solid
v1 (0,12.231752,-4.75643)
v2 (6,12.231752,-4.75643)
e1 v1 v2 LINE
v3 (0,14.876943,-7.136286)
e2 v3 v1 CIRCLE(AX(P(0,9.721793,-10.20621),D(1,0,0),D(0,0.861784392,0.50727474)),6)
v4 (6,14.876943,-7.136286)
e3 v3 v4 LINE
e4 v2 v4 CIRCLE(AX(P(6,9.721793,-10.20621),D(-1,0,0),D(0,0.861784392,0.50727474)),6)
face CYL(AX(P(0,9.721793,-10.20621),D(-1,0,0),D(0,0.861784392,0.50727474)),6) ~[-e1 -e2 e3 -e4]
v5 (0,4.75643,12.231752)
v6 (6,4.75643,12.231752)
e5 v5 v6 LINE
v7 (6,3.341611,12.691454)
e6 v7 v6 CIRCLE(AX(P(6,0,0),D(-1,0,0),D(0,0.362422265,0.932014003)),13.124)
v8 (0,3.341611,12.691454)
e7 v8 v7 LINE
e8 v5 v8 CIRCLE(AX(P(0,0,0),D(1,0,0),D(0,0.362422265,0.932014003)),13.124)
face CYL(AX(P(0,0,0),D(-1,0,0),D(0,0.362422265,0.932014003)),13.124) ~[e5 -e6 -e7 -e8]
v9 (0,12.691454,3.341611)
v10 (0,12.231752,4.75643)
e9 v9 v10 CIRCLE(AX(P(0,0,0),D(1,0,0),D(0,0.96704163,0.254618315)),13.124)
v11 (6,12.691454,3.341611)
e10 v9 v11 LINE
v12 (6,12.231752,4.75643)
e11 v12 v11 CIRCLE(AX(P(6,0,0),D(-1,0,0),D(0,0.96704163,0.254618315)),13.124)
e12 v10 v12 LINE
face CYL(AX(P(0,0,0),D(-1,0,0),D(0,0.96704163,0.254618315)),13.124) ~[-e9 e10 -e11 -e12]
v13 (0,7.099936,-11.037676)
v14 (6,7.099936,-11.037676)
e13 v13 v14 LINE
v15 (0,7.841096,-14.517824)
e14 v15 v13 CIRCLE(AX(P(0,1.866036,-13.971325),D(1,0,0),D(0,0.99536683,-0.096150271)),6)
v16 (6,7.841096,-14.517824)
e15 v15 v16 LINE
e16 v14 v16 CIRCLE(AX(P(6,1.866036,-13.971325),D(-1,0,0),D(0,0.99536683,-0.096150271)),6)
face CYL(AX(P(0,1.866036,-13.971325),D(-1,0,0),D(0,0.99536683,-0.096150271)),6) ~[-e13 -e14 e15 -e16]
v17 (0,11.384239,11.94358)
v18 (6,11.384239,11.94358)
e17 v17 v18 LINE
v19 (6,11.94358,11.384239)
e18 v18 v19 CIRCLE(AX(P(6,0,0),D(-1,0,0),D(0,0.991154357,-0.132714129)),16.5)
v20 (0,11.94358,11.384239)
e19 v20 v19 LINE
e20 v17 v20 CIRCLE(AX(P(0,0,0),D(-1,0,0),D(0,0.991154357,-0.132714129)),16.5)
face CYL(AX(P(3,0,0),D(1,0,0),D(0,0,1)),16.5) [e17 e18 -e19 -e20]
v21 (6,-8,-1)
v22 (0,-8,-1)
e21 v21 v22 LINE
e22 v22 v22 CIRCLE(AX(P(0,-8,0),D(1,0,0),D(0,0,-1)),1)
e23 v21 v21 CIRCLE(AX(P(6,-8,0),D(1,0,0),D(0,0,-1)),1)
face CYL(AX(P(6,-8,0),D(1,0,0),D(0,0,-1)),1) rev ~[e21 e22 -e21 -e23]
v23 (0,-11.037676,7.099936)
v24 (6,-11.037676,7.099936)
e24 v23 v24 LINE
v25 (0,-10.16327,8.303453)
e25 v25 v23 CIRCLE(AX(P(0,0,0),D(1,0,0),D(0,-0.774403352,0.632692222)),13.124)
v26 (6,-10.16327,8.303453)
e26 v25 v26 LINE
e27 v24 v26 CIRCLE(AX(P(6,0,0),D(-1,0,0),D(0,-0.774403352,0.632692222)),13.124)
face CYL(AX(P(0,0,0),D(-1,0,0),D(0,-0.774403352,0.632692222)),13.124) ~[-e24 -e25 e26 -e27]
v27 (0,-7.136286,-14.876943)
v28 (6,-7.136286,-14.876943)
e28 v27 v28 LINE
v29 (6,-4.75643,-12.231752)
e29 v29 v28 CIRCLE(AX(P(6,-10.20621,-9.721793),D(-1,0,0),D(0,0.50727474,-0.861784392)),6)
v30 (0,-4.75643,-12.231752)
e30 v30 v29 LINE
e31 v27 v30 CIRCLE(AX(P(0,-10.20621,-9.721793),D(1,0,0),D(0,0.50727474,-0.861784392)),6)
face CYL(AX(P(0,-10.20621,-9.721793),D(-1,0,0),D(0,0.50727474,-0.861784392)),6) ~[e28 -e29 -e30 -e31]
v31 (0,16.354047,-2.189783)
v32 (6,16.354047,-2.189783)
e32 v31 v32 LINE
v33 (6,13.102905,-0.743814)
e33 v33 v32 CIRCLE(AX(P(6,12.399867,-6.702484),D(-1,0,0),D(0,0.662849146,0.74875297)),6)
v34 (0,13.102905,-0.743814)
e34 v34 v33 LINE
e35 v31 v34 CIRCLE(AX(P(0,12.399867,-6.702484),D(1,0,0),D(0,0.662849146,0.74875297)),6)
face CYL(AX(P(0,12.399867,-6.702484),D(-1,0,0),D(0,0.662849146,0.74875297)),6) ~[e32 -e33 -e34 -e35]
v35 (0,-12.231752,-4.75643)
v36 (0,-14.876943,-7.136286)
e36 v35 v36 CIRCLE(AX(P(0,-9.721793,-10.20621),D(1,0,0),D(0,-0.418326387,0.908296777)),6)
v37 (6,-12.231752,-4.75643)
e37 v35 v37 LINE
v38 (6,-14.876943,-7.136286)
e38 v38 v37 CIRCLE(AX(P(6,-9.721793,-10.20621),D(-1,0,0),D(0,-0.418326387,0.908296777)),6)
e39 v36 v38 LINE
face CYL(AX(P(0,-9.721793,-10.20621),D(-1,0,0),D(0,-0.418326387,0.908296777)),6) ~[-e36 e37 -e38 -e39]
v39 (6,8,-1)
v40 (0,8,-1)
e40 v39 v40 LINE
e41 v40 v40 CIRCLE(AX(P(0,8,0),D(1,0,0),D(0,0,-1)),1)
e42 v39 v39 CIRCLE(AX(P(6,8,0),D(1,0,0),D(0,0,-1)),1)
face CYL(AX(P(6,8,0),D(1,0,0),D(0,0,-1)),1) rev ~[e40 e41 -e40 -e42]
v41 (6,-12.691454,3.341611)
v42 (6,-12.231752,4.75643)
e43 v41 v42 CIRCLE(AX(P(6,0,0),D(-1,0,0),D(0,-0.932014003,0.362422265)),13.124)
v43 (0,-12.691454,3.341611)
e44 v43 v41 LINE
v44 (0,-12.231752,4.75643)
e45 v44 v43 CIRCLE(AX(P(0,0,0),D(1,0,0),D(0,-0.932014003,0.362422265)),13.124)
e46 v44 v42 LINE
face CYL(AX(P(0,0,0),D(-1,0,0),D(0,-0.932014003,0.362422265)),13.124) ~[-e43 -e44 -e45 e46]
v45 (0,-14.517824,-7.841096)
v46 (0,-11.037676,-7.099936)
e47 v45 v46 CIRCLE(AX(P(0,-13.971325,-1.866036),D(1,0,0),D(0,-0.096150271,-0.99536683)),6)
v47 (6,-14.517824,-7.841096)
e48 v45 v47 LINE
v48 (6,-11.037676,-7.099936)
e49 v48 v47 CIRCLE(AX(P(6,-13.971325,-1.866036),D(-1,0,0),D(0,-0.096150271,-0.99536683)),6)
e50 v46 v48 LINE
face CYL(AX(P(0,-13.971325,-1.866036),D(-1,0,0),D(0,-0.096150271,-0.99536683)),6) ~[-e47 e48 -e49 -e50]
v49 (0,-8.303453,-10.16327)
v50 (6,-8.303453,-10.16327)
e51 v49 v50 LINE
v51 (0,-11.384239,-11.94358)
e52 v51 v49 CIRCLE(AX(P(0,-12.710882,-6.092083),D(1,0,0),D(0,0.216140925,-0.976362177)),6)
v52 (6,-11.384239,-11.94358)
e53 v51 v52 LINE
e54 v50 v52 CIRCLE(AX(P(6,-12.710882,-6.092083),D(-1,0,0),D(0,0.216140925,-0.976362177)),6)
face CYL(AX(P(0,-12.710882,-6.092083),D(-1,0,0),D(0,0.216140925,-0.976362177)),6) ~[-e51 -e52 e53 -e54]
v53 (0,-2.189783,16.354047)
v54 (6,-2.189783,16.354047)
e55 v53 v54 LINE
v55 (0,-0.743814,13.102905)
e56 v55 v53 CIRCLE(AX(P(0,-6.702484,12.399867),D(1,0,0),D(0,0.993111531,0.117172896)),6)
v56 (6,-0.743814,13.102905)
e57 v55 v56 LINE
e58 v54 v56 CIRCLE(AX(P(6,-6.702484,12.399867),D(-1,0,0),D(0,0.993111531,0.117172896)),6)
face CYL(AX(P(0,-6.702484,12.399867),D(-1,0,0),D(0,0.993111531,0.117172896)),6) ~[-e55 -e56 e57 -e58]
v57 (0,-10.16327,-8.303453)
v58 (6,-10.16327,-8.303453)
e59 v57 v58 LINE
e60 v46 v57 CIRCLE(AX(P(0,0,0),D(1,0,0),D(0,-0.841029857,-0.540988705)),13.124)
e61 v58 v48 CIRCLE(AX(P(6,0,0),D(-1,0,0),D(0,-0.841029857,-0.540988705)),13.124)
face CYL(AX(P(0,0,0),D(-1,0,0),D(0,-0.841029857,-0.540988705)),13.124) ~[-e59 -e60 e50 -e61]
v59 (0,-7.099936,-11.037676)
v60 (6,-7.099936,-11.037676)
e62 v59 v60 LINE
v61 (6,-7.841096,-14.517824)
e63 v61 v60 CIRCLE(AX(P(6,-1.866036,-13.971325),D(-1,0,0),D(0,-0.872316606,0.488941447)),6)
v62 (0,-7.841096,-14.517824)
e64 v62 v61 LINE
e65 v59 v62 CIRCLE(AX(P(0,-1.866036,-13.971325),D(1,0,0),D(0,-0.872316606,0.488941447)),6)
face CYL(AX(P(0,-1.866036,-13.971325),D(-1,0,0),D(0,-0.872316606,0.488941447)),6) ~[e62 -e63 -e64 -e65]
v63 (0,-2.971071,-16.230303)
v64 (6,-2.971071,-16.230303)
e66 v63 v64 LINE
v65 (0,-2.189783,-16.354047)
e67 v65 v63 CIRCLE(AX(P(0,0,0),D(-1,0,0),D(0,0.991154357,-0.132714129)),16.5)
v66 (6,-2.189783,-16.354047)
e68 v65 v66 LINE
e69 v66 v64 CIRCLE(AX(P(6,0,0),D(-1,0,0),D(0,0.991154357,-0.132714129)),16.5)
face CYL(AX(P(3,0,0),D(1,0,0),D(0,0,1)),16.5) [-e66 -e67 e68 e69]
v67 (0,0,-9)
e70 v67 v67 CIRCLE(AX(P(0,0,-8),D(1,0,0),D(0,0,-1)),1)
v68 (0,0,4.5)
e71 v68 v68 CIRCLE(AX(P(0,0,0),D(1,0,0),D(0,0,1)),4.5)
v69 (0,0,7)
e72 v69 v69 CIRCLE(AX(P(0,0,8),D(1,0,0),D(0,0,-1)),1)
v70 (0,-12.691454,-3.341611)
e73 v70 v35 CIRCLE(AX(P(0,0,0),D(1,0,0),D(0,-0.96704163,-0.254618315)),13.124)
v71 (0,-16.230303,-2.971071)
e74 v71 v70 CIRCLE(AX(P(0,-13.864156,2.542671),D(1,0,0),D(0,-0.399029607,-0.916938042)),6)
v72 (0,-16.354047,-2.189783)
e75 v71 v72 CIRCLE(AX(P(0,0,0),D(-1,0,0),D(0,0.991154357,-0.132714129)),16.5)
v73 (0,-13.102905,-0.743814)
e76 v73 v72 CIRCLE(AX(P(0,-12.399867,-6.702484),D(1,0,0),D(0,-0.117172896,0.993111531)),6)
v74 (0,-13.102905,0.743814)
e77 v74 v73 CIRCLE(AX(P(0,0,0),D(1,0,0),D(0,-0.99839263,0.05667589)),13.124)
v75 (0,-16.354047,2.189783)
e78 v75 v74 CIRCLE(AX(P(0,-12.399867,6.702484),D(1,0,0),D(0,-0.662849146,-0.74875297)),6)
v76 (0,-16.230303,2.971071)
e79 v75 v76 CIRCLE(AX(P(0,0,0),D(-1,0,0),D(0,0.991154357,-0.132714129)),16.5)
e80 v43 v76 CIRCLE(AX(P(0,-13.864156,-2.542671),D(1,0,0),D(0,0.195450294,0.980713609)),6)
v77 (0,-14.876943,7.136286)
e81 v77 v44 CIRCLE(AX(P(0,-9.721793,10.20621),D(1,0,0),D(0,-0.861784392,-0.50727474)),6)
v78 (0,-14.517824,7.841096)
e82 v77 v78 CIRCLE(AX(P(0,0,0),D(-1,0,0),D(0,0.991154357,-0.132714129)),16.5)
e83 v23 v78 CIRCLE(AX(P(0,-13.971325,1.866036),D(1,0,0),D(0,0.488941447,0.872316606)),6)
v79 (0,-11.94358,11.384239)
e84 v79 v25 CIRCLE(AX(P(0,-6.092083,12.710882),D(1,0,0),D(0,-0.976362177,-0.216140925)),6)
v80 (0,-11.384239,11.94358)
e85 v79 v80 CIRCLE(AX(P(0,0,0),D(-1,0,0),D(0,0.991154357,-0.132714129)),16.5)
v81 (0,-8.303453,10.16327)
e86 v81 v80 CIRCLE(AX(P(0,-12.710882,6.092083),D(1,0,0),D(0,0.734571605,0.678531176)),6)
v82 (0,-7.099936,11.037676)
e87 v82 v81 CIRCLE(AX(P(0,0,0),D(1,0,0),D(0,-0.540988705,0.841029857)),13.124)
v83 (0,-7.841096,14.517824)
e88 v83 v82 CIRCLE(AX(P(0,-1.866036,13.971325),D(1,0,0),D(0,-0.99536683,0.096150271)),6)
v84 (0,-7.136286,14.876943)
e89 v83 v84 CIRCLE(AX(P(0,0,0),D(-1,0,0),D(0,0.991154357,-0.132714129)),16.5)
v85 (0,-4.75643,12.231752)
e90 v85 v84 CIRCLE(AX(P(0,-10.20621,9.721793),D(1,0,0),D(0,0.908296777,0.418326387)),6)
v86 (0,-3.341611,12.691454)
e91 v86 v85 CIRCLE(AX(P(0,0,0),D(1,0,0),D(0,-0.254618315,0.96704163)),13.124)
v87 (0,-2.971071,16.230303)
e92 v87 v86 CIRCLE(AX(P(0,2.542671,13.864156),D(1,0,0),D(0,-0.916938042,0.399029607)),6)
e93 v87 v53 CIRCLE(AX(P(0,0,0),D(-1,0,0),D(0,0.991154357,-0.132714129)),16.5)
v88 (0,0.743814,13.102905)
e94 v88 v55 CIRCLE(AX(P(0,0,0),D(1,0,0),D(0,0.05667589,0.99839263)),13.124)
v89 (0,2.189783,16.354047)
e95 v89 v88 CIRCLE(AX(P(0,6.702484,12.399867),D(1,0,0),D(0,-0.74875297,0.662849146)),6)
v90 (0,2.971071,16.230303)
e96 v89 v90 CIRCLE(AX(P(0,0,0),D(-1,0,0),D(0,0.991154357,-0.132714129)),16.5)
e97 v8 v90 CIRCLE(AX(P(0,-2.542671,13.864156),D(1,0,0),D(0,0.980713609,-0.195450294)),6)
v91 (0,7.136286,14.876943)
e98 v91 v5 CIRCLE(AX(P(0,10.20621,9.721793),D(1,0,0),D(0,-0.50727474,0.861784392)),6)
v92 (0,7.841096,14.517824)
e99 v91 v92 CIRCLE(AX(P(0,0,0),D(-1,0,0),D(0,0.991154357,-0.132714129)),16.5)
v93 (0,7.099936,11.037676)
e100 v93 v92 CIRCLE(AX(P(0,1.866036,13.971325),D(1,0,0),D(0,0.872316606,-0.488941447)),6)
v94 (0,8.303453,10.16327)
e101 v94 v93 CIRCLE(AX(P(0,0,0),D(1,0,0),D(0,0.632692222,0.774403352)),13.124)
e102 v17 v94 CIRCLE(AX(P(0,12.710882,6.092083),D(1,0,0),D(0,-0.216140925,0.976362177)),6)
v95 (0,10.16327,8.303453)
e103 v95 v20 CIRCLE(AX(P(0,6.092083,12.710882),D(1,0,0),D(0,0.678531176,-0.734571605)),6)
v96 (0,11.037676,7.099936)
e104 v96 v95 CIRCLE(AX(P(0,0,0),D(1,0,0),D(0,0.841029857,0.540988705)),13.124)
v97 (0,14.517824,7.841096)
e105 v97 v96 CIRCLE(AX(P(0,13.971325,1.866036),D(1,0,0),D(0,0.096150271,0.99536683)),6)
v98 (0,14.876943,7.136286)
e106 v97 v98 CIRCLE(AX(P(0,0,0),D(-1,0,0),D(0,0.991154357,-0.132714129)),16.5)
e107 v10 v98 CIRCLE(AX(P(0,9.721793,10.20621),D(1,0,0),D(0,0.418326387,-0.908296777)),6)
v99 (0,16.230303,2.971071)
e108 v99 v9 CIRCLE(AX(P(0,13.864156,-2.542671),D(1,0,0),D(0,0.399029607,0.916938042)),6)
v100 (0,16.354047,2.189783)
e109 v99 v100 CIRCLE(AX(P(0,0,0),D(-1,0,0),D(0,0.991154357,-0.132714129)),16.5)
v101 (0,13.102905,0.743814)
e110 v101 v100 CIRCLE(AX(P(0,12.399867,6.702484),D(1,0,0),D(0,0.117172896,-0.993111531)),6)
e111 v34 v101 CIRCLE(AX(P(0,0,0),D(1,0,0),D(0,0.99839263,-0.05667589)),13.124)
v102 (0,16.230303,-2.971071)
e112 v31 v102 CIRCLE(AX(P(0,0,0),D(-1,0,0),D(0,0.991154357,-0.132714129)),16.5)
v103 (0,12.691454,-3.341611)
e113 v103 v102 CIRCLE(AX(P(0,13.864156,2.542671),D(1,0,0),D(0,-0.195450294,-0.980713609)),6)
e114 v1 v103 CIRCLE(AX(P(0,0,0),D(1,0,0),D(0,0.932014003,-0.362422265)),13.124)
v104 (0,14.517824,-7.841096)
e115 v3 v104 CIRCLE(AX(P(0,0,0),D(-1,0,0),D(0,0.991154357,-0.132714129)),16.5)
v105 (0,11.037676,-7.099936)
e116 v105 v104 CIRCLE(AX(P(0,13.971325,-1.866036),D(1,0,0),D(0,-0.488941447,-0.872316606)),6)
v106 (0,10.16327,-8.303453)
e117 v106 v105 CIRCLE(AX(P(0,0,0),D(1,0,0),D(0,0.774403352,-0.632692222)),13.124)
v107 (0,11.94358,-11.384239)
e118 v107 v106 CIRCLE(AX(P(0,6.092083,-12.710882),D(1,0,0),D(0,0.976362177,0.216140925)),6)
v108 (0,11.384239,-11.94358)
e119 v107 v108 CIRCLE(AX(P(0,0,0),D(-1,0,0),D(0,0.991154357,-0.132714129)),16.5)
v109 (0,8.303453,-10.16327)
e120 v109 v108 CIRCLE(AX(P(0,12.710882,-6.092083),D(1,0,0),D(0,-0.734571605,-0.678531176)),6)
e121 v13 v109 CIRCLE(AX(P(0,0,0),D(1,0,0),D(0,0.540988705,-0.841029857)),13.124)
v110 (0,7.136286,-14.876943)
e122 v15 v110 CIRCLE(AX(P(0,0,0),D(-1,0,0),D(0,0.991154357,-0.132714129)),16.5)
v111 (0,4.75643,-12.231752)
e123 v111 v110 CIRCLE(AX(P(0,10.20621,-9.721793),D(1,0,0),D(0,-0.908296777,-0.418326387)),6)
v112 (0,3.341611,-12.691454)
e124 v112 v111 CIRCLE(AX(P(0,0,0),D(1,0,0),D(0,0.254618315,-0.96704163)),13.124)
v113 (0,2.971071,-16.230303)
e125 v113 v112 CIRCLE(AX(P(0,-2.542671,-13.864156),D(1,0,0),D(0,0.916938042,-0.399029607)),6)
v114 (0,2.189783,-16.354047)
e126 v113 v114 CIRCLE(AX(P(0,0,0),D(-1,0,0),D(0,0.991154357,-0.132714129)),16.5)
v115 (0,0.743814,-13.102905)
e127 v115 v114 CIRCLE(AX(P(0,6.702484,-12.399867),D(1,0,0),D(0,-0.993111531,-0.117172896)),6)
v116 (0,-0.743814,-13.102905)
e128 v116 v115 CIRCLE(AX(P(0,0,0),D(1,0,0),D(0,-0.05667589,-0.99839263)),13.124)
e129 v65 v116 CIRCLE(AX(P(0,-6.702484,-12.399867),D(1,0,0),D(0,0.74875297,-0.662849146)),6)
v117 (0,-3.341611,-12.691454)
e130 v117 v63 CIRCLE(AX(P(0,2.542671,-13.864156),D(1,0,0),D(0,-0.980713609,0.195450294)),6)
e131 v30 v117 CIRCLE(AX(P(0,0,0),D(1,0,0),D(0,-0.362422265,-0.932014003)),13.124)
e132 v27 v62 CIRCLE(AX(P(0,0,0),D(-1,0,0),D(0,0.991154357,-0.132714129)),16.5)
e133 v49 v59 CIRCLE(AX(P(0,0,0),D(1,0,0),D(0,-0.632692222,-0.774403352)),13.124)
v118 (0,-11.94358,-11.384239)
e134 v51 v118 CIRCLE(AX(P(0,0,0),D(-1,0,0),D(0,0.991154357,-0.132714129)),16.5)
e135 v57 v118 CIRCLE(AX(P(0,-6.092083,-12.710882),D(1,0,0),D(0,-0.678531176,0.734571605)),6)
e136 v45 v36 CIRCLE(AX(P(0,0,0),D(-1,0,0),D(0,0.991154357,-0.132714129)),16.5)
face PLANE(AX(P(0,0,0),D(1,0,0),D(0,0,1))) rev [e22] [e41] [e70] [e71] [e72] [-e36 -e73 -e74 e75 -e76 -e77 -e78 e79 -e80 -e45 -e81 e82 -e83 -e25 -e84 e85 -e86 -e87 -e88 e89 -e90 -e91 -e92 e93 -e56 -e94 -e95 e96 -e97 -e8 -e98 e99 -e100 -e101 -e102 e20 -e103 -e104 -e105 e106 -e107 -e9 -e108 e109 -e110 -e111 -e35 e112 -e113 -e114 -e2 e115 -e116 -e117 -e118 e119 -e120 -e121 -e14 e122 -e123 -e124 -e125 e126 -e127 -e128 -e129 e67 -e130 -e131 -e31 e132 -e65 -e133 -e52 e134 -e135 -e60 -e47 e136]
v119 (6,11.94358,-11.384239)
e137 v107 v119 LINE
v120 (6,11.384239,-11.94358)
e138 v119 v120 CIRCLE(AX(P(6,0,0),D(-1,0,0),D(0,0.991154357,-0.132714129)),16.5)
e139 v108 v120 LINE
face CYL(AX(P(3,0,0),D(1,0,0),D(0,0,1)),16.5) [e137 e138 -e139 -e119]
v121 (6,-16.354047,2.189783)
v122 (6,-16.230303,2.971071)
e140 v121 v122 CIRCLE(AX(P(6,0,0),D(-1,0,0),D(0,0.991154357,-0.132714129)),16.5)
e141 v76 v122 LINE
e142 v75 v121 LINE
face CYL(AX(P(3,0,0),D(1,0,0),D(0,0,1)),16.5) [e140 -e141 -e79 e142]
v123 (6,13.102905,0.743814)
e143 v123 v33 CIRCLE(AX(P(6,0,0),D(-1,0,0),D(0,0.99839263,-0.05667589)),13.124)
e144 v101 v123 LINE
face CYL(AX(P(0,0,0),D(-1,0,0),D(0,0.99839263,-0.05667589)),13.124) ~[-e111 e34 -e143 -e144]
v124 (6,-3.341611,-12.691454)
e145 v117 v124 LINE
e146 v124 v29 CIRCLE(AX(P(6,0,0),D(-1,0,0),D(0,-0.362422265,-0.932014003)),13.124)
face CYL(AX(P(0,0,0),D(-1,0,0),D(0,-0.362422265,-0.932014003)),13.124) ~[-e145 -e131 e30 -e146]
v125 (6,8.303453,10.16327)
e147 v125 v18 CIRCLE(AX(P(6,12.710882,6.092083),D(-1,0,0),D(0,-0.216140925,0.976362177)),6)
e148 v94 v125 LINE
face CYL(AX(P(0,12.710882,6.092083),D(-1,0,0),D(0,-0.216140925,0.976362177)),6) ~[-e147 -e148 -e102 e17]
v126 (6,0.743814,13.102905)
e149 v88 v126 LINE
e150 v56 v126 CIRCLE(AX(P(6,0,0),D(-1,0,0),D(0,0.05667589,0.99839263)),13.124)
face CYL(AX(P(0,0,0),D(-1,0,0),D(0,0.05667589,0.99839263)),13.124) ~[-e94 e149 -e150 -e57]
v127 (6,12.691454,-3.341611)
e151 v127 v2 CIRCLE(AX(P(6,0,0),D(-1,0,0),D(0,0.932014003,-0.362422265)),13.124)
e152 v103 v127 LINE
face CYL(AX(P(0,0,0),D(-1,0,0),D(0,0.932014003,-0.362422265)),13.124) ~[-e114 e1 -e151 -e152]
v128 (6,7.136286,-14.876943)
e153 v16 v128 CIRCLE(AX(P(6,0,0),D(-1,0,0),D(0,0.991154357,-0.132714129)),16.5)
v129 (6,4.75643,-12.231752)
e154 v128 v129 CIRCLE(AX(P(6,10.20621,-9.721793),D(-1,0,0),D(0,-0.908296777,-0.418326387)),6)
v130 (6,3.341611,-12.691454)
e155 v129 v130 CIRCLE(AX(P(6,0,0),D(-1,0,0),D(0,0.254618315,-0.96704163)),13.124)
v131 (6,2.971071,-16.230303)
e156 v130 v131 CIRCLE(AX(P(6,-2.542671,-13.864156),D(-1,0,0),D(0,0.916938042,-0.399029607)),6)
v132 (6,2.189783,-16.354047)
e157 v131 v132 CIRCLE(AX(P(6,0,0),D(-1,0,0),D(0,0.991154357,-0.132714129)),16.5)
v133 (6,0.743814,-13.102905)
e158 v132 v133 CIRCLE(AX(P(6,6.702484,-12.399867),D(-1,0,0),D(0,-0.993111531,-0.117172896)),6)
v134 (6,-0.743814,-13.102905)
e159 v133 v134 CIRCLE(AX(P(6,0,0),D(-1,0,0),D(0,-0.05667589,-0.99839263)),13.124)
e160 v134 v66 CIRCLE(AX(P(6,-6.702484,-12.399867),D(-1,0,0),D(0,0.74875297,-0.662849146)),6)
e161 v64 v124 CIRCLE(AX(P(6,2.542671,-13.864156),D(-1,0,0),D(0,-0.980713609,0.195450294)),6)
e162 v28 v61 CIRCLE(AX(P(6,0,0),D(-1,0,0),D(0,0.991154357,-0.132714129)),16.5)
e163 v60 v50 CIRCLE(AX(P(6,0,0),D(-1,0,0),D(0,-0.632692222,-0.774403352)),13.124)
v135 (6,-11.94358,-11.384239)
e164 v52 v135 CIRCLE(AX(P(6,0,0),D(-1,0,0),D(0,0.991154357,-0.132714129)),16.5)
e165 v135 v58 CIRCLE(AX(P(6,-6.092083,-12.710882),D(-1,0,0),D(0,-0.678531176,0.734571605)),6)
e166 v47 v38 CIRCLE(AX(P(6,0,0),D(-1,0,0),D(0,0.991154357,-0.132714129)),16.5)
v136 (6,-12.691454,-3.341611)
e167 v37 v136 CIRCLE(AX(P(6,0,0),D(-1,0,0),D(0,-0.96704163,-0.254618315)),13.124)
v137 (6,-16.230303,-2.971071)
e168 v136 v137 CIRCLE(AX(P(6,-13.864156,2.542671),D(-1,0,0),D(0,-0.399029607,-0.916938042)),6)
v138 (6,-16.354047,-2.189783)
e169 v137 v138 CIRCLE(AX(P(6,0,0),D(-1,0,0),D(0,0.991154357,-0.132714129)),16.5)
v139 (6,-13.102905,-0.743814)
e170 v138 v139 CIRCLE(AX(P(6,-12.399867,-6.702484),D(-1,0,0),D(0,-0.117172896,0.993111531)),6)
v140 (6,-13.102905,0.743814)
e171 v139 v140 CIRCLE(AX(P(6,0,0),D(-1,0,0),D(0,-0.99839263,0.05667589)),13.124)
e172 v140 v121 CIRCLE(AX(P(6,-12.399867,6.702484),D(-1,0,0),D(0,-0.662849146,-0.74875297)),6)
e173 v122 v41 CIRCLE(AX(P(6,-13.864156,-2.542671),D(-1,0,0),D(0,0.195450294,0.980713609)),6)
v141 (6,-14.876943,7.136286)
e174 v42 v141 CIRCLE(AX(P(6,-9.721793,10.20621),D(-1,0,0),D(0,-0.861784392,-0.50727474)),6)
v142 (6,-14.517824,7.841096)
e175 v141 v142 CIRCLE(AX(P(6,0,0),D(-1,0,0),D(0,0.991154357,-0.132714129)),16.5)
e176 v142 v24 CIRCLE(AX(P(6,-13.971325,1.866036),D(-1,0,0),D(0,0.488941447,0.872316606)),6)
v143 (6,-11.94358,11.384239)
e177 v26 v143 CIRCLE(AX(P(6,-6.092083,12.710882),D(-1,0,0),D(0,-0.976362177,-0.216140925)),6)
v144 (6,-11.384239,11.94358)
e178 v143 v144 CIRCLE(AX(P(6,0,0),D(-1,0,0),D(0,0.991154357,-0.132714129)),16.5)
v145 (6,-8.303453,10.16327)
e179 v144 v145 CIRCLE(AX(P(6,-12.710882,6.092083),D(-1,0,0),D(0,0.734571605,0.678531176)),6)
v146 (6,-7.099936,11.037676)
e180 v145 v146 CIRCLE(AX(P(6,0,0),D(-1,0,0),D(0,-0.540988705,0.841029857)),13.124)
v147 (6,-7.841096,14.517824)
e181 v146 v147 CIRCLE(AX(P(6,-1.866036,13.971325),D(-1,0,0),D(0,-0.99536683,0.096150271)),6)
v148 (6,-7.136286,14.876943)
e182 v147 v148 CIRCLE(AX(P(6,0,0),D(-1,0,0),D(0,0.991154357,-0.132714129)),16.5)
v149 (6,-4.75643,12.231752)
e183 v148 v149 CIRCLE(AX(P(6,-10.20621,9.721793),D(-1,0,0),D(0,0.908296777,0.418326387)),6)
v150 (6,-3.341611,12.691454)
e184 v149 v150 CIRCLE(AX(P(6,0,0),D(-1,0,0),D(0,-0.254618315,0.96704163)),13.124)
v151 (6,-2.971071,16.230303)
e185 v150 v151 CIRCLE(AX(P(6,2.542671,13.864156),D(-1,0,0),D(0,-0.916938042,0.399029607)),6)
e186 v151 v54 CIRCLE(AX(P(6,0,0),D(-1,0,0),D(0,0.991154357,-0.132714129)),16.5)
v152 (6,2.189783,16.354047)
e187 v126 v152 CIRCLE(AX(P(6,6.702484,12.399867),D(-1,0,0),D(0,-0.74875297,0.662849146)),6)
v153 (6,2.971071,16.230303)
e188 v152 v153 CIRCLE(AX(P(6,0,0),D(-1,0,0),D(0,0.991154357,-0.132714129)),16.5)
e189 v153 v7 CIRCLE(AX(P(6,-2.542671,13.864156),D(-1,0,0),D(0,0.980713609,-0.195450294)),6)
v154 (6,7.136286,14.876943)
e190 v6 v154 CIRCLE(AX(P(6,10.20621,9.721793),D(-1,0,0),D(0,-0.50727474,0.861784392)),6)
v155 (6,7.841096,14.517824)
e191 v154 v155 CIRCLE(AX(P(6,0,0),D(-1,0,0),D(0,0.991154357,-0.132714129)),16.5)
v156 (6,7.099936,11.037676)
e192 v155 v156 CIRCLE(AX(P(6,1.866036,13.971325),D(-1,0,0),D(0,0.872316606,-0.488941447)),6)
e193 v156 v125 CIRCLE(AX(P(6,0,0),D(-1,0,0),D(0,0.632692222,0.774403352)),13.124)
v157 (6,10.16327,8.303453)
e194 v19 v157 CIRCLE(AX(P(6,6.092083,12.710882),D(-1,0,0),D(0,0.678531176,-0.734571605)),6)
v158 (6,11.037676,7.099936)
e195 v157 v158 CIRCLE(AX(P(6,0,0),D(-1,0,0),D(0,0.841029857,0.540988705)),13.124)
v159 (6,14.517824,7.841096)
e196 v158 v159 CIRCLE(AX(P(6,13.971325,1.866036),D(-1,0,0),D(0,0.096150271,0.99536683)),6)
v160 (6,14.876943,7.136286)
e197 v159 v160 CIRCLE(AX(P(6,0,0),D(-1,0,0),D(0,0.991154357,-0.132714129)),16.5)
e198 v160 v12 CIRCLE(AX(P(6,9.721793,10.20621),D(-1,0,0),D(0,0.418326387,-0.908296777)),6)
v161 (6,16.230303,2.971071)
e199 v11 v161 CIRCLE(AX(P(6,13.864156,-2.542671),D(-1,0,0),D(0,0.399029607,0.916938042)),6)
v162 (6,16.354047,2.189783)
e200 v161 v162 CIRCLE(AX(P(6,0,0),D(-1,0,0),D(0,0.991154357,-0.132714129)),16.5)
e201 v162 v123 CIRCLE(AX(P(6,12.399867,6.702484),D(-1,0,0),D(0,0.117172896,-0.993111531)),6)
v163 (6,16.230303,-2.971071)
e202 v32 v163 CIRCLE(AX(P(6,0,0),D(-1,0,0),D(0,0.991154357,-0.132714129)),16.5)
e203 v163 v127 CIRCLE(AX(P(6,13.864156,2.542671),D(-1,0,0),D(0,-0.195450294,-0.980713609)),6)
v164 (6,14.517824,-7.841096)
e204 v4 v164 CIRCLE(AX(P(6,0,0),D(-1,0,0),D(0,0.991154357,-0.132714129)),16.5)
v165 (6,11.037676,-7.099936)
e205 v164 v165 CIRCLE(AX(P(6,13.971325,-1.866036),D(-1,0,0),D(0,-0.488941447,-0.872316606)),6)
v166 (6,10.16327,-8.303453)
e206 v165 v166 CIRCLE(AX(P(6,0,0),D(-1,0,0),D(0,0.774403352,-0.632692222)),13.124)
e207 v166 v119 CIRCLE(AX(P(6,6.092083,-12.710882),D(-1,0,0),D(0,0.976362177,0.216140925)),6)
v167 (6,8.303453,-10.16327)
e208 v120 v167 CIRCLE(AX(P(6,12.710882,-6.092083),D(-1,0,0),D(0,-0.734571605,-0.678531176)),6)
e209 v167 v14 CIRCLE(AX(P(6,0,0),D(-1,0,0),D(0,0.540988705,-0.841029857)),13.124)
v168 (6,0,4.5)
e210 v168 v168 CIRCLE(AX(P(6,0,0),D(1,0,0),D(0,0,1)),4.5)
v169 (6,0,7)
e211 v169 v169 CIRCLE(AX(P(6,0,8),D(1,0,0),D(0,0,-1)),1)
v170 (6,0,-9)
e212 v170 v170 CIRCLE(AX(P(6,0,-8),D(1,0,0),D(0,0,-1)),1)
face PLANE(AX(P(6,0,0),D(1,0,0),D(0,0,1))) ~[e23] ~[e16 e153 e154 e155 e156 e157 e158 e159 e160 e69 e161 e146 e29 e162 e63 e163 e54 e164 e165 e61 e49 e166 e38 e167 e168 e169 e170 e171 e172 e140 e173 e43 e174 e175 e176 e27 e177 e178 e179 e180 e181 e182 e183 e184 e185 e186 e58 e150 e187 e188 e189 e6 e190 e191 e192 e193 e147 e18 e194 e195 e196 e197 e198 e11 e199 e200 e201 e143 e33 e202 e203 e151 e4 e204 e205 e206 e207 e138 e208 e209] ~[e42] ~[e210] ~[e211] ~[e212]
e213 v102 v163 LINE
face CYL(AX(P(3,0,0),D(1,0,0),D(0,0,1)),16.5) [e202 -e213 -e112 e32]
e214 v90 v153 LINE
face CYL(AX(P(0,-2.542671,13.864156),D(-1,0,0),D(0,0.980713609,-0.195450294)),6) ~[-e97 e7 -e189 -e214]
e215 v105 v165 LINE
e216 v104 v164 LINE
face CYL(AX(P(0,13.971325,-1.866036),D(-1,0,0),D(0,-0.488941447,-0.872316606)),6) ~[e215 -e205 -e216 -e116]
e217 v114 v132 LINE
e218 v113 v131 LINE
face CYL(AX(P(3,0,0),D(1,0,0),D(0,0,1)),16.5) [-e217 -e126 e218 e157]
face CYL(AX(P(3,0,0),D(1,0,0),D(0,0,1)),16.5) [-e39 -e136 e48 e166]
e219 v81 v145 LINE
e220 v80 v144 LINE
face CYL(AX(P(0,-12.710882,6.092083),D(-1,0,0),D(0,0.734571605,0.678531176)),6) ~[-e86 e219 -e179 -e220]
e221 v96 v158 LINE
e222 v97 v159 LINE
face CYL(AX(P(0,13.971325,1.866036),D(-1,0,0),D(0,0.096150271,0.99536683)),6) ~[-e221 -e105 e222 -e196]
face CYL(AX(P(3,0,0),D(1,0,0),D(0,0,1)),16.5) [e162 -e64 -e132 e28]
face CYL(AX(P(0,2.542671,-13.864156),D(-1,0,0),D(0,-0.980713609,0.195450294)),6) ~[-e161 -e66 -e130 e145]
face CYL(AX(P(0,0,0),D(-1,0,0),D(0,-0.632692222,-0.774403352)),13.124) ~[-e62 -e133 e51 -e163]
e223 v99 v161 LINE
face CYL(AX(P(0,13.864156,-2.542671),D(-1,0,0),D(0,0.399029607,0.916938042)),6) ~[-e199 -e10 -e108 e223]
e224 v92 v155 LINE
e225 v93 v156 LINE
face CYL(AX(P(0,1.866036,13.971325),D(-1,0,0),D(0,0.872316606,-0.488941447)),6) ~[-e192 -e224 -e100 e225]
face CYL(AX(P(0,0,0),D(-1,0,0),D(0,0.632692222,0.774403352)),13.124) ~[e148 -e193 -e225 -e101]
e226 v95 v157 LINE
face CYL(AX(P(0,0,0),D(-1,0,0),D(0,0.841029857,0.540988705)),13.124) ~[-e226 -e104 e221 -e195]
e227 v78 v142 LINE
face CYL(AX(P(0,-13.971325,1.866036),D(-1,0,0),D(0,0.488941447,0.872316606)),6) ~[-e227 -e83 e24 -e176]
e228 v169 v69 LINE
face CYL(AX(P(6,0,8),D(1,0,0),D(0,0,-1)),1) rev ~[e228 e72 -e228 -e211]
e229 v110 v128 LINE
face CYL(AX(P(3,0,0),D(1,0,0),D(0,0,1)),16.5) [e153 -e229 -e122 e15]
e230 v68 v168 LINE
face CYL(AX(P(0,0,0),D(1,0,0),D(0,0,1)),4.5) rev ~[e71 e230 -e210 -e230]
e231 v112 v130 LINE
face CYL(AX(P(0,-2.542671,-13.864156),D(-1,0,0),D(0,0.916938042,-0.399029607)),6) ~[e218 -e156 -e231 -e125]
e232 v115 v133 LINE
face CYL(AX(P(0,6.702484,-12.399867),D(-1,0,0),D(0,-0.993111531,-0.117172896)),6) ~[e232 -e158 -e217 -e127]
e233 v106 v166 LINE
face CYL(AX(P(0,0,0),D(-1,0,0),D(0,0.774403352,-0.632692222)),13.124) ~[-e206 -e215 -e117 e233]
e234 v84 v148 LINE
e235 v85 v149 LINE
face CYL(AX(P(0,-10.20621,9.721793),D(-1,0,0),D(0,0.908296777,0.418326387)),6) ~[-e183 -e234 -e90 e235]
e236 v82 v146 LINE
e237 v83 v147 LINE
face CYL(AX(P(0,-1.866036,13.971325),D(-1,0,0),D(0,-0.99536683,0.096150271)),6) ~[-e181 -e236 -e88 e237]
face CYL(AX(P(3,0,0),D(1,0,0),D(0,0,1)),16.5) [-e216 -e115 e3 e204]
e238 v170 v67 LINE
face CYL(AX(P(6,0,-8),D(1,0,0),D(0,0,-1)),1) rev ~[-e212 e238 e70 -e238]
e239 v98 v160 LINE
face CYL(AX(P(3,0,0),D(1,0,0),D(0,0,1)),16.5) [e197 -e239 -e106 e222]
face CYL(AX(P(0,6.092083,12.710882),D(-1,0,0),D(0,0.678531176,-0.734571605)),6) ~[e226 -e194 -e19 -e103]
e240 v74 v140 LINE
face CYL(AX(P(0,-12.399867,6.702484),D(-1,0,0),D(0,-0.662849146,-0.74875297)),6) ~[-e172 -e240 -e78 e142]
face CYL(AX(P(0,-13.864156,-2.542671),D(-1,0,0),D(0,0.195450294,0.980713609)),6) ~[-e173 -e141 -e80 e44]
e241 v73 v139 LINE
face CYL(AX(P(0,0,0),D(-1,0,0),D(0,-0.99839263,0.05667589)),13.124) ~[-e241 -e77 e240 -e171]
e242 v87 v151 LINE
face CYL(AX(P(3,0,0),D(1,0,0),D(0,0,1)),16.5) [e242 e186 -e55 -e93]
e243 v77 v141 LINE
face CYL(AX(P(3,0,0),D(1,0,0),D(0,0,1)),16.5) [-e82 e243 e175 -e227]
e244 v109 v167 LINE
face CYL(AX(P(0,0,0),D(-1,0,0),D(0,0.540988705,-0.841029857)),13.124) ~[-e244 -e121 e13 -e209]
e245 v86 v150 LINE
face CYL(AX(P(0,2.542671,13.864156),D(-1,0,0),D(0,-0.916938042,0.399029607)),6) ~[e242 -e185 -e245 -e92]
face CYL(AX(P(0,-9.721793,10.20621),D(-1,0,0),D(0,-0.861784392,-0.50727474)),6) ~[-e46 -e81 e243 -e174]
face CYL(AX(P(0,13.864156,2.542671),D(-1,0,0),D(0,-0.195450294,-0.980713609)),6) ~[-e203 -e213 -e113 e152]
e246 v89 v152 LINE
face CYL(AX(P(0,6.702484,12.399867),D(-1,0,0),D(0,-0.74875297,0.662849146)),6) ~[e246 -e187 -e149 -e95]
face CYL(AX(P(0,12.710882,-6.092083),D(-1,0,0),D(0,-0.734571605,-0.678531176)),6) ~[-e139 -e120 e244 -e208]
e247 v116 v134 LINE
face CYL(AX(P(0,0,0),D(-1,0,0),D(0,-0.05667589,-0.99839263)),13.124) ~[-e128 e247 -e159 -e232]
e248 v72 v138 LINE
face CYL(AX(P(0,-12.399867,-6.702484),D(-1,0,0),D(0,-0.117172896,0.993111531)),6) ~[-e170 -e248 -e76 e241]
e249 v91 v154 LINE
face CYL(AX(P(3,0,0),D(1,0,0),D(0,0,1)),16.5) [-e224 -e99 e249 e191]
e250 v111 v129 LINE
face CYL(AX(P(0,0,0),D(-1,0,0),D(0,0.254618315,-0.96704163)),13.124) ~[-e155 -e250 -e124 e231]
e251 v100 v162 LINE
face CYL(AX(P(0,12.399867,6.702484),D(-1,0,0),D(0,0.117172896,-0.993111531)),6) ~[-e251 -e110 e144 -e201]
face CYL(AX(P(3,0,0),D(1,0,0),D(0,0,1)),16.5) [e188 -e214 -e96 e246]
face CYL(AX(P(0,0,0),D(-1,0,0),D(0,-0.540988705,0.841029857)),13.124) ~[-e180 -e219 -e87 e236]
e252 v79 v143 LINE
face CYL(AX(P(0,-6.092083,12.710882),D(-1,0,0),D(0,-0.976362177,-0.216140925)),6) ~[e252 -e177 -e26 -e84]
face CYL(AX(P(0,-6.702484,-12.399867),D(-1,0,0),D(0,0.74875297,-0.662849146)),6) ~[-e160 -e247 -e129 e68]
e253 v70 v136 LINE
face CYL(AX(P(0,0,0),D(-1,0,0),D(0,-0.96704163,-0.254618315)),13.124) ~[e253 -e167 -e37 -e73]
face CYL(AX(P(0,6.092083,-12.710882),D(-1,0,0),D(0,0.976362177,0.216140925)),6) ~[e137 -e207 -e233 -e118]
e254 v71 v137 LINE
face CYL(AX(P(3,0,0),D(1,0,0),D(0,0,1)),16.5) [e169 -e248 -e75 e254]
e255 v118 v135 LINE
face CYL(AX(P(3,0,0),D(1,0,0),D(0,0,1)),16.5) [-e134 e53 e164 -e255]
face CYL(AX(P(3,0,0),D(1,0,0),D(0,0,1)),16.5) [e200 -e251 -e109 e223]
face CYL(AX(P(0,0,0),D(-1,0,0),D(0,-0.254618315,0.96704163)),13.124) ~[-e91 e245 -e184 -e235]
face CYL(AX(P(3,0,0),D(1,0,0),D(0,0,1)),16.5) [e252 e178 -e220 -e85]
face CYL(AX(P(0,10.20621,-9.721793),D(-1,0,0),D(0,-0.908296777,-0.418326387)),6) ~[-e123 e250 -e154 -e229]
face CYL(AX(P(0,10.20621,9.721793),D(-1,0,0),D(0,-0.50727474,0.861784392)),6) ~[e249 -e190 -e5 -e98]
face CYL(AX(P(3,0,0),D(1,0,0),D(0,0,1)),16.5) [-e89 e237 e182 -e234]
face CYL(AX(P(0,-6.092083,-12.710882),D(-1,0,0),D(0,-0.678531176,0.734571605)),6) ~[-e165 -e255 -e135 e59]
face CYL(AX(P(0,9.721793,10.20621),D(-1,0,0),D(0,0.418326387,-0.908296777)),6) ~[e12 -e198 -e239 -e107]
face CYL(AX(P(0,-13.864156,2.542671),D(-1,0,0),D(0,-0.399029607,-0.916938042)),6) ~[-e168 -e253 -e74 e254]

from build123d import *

# Parameters (mm, degrees)
BASPROSKE_W             = 6
BASPROSKE_H             = 16.5
TOOTHCUT_DEPTH          = 25.093567606
TEETHCUTS_COUNT         = 20
TEETHCUTS_ANGLE         = 342
BORSKE_R                = 4.5
BORE_DEPTH              = 50.0000508
ESQUISSE2_R             = 1
ENL_V_MAT_EXTRU_1_DEPTH = 6


with BuildPart() as part:
    # BasProSke → Base-Revolve (revolve)
    with BuildSketch(Plane(origin=(0, 0, 0), x_dir=(1, 0, 0), z_dir=(0, 1, 0)), mode=Mode.PRIVATE) as base_revolve_sk:
        with Locations((3, 8.25)):
            Rectangle(BASPROSKE_W, BASPROSKE_H)
    revolve(base_revolve_sk.sketch.rotate(Axis((-10, 0, 0), (1, 0, 0)), 180), axis=Axis((-10, 0, 0), (1, 0, 0)))

    # TooCutSke → ToothCut (cut, through all)
    with BuildSketch(Plane(origin=(0, 0, 0), x_dir=(0, 0, -1), z_dir=(1, 0, 0))):
        with BuildLine():
            ThreePointArc((0.74381438, 13.102904875), (0, 13.124), (-0.74381438, 13.102904875))
            ThreePointArc((-0.74381438, 13.102904875), (-1.226473103, 14.852072512), (-2.209965745, 16.376962373))
            ThreePointArc((-2.209965745, 16.376962373), (0, 16.5254), (2.209965745, 16.376962373))
            ThreePointArc((2.209965745, 16.376962373), (1.226473103, 14.852072512), (0.74381438, 13.102904875))
        make_face()
    toothcut = extrude(amount=TOOTHCUT_DEPTH, mode=Mode.SUBTRACT)

    # TeethCuts: ToothCut ×20 about axis
    teethcuts_axis = Axis((-10, 0, 0), (1, 0, 0))
    for i in range(1, TEETHCUTS_COUNT):
        add(toothcut.rotate(teethcuts_axis, i * TEETHCUTS_ANGLE / (TEETHCUTS_COUNT - 1)), mode=Mode.SUBTRACT)

    # BorSke → Bore (cut, symmetric)
    with BuildSketch(Plane(origin=(0, 0, 0), x_dir=(0, 0, -1), z_dir=(1, 0, 0))):
        with Locations(Location((0, 0, 0), (0, 0, 180))):
            Circle(BORSKE_R)
    extrude(amount=BORE_DEPTH, both=True, mode=Mode.SUBTRACT)

    # Esquisse2 → Enlèv. mat.-Extru.1 (cut)
    with BuildSketch(Plane(origin=(6, 0, 0), x_dir=(0, 0, -1), z_dir=(1, 0, 0))):
        with Locations((0, 8)):
            Circle(ESQUISSE2_R)
        with Locations((8, 0)):
            Circle(ESQUISSE2_R)
        with Locations((0, -8)):
            Circle(ESQUISSE2_R)
        with Locations((-8, 0)):
            Circle(ESQUISSE2_R)
    extrude(amount=-ENL_V_MAT_EXTRU_1_DEPTH, mode=Mode.SUBTRACT)


solid = part.part
